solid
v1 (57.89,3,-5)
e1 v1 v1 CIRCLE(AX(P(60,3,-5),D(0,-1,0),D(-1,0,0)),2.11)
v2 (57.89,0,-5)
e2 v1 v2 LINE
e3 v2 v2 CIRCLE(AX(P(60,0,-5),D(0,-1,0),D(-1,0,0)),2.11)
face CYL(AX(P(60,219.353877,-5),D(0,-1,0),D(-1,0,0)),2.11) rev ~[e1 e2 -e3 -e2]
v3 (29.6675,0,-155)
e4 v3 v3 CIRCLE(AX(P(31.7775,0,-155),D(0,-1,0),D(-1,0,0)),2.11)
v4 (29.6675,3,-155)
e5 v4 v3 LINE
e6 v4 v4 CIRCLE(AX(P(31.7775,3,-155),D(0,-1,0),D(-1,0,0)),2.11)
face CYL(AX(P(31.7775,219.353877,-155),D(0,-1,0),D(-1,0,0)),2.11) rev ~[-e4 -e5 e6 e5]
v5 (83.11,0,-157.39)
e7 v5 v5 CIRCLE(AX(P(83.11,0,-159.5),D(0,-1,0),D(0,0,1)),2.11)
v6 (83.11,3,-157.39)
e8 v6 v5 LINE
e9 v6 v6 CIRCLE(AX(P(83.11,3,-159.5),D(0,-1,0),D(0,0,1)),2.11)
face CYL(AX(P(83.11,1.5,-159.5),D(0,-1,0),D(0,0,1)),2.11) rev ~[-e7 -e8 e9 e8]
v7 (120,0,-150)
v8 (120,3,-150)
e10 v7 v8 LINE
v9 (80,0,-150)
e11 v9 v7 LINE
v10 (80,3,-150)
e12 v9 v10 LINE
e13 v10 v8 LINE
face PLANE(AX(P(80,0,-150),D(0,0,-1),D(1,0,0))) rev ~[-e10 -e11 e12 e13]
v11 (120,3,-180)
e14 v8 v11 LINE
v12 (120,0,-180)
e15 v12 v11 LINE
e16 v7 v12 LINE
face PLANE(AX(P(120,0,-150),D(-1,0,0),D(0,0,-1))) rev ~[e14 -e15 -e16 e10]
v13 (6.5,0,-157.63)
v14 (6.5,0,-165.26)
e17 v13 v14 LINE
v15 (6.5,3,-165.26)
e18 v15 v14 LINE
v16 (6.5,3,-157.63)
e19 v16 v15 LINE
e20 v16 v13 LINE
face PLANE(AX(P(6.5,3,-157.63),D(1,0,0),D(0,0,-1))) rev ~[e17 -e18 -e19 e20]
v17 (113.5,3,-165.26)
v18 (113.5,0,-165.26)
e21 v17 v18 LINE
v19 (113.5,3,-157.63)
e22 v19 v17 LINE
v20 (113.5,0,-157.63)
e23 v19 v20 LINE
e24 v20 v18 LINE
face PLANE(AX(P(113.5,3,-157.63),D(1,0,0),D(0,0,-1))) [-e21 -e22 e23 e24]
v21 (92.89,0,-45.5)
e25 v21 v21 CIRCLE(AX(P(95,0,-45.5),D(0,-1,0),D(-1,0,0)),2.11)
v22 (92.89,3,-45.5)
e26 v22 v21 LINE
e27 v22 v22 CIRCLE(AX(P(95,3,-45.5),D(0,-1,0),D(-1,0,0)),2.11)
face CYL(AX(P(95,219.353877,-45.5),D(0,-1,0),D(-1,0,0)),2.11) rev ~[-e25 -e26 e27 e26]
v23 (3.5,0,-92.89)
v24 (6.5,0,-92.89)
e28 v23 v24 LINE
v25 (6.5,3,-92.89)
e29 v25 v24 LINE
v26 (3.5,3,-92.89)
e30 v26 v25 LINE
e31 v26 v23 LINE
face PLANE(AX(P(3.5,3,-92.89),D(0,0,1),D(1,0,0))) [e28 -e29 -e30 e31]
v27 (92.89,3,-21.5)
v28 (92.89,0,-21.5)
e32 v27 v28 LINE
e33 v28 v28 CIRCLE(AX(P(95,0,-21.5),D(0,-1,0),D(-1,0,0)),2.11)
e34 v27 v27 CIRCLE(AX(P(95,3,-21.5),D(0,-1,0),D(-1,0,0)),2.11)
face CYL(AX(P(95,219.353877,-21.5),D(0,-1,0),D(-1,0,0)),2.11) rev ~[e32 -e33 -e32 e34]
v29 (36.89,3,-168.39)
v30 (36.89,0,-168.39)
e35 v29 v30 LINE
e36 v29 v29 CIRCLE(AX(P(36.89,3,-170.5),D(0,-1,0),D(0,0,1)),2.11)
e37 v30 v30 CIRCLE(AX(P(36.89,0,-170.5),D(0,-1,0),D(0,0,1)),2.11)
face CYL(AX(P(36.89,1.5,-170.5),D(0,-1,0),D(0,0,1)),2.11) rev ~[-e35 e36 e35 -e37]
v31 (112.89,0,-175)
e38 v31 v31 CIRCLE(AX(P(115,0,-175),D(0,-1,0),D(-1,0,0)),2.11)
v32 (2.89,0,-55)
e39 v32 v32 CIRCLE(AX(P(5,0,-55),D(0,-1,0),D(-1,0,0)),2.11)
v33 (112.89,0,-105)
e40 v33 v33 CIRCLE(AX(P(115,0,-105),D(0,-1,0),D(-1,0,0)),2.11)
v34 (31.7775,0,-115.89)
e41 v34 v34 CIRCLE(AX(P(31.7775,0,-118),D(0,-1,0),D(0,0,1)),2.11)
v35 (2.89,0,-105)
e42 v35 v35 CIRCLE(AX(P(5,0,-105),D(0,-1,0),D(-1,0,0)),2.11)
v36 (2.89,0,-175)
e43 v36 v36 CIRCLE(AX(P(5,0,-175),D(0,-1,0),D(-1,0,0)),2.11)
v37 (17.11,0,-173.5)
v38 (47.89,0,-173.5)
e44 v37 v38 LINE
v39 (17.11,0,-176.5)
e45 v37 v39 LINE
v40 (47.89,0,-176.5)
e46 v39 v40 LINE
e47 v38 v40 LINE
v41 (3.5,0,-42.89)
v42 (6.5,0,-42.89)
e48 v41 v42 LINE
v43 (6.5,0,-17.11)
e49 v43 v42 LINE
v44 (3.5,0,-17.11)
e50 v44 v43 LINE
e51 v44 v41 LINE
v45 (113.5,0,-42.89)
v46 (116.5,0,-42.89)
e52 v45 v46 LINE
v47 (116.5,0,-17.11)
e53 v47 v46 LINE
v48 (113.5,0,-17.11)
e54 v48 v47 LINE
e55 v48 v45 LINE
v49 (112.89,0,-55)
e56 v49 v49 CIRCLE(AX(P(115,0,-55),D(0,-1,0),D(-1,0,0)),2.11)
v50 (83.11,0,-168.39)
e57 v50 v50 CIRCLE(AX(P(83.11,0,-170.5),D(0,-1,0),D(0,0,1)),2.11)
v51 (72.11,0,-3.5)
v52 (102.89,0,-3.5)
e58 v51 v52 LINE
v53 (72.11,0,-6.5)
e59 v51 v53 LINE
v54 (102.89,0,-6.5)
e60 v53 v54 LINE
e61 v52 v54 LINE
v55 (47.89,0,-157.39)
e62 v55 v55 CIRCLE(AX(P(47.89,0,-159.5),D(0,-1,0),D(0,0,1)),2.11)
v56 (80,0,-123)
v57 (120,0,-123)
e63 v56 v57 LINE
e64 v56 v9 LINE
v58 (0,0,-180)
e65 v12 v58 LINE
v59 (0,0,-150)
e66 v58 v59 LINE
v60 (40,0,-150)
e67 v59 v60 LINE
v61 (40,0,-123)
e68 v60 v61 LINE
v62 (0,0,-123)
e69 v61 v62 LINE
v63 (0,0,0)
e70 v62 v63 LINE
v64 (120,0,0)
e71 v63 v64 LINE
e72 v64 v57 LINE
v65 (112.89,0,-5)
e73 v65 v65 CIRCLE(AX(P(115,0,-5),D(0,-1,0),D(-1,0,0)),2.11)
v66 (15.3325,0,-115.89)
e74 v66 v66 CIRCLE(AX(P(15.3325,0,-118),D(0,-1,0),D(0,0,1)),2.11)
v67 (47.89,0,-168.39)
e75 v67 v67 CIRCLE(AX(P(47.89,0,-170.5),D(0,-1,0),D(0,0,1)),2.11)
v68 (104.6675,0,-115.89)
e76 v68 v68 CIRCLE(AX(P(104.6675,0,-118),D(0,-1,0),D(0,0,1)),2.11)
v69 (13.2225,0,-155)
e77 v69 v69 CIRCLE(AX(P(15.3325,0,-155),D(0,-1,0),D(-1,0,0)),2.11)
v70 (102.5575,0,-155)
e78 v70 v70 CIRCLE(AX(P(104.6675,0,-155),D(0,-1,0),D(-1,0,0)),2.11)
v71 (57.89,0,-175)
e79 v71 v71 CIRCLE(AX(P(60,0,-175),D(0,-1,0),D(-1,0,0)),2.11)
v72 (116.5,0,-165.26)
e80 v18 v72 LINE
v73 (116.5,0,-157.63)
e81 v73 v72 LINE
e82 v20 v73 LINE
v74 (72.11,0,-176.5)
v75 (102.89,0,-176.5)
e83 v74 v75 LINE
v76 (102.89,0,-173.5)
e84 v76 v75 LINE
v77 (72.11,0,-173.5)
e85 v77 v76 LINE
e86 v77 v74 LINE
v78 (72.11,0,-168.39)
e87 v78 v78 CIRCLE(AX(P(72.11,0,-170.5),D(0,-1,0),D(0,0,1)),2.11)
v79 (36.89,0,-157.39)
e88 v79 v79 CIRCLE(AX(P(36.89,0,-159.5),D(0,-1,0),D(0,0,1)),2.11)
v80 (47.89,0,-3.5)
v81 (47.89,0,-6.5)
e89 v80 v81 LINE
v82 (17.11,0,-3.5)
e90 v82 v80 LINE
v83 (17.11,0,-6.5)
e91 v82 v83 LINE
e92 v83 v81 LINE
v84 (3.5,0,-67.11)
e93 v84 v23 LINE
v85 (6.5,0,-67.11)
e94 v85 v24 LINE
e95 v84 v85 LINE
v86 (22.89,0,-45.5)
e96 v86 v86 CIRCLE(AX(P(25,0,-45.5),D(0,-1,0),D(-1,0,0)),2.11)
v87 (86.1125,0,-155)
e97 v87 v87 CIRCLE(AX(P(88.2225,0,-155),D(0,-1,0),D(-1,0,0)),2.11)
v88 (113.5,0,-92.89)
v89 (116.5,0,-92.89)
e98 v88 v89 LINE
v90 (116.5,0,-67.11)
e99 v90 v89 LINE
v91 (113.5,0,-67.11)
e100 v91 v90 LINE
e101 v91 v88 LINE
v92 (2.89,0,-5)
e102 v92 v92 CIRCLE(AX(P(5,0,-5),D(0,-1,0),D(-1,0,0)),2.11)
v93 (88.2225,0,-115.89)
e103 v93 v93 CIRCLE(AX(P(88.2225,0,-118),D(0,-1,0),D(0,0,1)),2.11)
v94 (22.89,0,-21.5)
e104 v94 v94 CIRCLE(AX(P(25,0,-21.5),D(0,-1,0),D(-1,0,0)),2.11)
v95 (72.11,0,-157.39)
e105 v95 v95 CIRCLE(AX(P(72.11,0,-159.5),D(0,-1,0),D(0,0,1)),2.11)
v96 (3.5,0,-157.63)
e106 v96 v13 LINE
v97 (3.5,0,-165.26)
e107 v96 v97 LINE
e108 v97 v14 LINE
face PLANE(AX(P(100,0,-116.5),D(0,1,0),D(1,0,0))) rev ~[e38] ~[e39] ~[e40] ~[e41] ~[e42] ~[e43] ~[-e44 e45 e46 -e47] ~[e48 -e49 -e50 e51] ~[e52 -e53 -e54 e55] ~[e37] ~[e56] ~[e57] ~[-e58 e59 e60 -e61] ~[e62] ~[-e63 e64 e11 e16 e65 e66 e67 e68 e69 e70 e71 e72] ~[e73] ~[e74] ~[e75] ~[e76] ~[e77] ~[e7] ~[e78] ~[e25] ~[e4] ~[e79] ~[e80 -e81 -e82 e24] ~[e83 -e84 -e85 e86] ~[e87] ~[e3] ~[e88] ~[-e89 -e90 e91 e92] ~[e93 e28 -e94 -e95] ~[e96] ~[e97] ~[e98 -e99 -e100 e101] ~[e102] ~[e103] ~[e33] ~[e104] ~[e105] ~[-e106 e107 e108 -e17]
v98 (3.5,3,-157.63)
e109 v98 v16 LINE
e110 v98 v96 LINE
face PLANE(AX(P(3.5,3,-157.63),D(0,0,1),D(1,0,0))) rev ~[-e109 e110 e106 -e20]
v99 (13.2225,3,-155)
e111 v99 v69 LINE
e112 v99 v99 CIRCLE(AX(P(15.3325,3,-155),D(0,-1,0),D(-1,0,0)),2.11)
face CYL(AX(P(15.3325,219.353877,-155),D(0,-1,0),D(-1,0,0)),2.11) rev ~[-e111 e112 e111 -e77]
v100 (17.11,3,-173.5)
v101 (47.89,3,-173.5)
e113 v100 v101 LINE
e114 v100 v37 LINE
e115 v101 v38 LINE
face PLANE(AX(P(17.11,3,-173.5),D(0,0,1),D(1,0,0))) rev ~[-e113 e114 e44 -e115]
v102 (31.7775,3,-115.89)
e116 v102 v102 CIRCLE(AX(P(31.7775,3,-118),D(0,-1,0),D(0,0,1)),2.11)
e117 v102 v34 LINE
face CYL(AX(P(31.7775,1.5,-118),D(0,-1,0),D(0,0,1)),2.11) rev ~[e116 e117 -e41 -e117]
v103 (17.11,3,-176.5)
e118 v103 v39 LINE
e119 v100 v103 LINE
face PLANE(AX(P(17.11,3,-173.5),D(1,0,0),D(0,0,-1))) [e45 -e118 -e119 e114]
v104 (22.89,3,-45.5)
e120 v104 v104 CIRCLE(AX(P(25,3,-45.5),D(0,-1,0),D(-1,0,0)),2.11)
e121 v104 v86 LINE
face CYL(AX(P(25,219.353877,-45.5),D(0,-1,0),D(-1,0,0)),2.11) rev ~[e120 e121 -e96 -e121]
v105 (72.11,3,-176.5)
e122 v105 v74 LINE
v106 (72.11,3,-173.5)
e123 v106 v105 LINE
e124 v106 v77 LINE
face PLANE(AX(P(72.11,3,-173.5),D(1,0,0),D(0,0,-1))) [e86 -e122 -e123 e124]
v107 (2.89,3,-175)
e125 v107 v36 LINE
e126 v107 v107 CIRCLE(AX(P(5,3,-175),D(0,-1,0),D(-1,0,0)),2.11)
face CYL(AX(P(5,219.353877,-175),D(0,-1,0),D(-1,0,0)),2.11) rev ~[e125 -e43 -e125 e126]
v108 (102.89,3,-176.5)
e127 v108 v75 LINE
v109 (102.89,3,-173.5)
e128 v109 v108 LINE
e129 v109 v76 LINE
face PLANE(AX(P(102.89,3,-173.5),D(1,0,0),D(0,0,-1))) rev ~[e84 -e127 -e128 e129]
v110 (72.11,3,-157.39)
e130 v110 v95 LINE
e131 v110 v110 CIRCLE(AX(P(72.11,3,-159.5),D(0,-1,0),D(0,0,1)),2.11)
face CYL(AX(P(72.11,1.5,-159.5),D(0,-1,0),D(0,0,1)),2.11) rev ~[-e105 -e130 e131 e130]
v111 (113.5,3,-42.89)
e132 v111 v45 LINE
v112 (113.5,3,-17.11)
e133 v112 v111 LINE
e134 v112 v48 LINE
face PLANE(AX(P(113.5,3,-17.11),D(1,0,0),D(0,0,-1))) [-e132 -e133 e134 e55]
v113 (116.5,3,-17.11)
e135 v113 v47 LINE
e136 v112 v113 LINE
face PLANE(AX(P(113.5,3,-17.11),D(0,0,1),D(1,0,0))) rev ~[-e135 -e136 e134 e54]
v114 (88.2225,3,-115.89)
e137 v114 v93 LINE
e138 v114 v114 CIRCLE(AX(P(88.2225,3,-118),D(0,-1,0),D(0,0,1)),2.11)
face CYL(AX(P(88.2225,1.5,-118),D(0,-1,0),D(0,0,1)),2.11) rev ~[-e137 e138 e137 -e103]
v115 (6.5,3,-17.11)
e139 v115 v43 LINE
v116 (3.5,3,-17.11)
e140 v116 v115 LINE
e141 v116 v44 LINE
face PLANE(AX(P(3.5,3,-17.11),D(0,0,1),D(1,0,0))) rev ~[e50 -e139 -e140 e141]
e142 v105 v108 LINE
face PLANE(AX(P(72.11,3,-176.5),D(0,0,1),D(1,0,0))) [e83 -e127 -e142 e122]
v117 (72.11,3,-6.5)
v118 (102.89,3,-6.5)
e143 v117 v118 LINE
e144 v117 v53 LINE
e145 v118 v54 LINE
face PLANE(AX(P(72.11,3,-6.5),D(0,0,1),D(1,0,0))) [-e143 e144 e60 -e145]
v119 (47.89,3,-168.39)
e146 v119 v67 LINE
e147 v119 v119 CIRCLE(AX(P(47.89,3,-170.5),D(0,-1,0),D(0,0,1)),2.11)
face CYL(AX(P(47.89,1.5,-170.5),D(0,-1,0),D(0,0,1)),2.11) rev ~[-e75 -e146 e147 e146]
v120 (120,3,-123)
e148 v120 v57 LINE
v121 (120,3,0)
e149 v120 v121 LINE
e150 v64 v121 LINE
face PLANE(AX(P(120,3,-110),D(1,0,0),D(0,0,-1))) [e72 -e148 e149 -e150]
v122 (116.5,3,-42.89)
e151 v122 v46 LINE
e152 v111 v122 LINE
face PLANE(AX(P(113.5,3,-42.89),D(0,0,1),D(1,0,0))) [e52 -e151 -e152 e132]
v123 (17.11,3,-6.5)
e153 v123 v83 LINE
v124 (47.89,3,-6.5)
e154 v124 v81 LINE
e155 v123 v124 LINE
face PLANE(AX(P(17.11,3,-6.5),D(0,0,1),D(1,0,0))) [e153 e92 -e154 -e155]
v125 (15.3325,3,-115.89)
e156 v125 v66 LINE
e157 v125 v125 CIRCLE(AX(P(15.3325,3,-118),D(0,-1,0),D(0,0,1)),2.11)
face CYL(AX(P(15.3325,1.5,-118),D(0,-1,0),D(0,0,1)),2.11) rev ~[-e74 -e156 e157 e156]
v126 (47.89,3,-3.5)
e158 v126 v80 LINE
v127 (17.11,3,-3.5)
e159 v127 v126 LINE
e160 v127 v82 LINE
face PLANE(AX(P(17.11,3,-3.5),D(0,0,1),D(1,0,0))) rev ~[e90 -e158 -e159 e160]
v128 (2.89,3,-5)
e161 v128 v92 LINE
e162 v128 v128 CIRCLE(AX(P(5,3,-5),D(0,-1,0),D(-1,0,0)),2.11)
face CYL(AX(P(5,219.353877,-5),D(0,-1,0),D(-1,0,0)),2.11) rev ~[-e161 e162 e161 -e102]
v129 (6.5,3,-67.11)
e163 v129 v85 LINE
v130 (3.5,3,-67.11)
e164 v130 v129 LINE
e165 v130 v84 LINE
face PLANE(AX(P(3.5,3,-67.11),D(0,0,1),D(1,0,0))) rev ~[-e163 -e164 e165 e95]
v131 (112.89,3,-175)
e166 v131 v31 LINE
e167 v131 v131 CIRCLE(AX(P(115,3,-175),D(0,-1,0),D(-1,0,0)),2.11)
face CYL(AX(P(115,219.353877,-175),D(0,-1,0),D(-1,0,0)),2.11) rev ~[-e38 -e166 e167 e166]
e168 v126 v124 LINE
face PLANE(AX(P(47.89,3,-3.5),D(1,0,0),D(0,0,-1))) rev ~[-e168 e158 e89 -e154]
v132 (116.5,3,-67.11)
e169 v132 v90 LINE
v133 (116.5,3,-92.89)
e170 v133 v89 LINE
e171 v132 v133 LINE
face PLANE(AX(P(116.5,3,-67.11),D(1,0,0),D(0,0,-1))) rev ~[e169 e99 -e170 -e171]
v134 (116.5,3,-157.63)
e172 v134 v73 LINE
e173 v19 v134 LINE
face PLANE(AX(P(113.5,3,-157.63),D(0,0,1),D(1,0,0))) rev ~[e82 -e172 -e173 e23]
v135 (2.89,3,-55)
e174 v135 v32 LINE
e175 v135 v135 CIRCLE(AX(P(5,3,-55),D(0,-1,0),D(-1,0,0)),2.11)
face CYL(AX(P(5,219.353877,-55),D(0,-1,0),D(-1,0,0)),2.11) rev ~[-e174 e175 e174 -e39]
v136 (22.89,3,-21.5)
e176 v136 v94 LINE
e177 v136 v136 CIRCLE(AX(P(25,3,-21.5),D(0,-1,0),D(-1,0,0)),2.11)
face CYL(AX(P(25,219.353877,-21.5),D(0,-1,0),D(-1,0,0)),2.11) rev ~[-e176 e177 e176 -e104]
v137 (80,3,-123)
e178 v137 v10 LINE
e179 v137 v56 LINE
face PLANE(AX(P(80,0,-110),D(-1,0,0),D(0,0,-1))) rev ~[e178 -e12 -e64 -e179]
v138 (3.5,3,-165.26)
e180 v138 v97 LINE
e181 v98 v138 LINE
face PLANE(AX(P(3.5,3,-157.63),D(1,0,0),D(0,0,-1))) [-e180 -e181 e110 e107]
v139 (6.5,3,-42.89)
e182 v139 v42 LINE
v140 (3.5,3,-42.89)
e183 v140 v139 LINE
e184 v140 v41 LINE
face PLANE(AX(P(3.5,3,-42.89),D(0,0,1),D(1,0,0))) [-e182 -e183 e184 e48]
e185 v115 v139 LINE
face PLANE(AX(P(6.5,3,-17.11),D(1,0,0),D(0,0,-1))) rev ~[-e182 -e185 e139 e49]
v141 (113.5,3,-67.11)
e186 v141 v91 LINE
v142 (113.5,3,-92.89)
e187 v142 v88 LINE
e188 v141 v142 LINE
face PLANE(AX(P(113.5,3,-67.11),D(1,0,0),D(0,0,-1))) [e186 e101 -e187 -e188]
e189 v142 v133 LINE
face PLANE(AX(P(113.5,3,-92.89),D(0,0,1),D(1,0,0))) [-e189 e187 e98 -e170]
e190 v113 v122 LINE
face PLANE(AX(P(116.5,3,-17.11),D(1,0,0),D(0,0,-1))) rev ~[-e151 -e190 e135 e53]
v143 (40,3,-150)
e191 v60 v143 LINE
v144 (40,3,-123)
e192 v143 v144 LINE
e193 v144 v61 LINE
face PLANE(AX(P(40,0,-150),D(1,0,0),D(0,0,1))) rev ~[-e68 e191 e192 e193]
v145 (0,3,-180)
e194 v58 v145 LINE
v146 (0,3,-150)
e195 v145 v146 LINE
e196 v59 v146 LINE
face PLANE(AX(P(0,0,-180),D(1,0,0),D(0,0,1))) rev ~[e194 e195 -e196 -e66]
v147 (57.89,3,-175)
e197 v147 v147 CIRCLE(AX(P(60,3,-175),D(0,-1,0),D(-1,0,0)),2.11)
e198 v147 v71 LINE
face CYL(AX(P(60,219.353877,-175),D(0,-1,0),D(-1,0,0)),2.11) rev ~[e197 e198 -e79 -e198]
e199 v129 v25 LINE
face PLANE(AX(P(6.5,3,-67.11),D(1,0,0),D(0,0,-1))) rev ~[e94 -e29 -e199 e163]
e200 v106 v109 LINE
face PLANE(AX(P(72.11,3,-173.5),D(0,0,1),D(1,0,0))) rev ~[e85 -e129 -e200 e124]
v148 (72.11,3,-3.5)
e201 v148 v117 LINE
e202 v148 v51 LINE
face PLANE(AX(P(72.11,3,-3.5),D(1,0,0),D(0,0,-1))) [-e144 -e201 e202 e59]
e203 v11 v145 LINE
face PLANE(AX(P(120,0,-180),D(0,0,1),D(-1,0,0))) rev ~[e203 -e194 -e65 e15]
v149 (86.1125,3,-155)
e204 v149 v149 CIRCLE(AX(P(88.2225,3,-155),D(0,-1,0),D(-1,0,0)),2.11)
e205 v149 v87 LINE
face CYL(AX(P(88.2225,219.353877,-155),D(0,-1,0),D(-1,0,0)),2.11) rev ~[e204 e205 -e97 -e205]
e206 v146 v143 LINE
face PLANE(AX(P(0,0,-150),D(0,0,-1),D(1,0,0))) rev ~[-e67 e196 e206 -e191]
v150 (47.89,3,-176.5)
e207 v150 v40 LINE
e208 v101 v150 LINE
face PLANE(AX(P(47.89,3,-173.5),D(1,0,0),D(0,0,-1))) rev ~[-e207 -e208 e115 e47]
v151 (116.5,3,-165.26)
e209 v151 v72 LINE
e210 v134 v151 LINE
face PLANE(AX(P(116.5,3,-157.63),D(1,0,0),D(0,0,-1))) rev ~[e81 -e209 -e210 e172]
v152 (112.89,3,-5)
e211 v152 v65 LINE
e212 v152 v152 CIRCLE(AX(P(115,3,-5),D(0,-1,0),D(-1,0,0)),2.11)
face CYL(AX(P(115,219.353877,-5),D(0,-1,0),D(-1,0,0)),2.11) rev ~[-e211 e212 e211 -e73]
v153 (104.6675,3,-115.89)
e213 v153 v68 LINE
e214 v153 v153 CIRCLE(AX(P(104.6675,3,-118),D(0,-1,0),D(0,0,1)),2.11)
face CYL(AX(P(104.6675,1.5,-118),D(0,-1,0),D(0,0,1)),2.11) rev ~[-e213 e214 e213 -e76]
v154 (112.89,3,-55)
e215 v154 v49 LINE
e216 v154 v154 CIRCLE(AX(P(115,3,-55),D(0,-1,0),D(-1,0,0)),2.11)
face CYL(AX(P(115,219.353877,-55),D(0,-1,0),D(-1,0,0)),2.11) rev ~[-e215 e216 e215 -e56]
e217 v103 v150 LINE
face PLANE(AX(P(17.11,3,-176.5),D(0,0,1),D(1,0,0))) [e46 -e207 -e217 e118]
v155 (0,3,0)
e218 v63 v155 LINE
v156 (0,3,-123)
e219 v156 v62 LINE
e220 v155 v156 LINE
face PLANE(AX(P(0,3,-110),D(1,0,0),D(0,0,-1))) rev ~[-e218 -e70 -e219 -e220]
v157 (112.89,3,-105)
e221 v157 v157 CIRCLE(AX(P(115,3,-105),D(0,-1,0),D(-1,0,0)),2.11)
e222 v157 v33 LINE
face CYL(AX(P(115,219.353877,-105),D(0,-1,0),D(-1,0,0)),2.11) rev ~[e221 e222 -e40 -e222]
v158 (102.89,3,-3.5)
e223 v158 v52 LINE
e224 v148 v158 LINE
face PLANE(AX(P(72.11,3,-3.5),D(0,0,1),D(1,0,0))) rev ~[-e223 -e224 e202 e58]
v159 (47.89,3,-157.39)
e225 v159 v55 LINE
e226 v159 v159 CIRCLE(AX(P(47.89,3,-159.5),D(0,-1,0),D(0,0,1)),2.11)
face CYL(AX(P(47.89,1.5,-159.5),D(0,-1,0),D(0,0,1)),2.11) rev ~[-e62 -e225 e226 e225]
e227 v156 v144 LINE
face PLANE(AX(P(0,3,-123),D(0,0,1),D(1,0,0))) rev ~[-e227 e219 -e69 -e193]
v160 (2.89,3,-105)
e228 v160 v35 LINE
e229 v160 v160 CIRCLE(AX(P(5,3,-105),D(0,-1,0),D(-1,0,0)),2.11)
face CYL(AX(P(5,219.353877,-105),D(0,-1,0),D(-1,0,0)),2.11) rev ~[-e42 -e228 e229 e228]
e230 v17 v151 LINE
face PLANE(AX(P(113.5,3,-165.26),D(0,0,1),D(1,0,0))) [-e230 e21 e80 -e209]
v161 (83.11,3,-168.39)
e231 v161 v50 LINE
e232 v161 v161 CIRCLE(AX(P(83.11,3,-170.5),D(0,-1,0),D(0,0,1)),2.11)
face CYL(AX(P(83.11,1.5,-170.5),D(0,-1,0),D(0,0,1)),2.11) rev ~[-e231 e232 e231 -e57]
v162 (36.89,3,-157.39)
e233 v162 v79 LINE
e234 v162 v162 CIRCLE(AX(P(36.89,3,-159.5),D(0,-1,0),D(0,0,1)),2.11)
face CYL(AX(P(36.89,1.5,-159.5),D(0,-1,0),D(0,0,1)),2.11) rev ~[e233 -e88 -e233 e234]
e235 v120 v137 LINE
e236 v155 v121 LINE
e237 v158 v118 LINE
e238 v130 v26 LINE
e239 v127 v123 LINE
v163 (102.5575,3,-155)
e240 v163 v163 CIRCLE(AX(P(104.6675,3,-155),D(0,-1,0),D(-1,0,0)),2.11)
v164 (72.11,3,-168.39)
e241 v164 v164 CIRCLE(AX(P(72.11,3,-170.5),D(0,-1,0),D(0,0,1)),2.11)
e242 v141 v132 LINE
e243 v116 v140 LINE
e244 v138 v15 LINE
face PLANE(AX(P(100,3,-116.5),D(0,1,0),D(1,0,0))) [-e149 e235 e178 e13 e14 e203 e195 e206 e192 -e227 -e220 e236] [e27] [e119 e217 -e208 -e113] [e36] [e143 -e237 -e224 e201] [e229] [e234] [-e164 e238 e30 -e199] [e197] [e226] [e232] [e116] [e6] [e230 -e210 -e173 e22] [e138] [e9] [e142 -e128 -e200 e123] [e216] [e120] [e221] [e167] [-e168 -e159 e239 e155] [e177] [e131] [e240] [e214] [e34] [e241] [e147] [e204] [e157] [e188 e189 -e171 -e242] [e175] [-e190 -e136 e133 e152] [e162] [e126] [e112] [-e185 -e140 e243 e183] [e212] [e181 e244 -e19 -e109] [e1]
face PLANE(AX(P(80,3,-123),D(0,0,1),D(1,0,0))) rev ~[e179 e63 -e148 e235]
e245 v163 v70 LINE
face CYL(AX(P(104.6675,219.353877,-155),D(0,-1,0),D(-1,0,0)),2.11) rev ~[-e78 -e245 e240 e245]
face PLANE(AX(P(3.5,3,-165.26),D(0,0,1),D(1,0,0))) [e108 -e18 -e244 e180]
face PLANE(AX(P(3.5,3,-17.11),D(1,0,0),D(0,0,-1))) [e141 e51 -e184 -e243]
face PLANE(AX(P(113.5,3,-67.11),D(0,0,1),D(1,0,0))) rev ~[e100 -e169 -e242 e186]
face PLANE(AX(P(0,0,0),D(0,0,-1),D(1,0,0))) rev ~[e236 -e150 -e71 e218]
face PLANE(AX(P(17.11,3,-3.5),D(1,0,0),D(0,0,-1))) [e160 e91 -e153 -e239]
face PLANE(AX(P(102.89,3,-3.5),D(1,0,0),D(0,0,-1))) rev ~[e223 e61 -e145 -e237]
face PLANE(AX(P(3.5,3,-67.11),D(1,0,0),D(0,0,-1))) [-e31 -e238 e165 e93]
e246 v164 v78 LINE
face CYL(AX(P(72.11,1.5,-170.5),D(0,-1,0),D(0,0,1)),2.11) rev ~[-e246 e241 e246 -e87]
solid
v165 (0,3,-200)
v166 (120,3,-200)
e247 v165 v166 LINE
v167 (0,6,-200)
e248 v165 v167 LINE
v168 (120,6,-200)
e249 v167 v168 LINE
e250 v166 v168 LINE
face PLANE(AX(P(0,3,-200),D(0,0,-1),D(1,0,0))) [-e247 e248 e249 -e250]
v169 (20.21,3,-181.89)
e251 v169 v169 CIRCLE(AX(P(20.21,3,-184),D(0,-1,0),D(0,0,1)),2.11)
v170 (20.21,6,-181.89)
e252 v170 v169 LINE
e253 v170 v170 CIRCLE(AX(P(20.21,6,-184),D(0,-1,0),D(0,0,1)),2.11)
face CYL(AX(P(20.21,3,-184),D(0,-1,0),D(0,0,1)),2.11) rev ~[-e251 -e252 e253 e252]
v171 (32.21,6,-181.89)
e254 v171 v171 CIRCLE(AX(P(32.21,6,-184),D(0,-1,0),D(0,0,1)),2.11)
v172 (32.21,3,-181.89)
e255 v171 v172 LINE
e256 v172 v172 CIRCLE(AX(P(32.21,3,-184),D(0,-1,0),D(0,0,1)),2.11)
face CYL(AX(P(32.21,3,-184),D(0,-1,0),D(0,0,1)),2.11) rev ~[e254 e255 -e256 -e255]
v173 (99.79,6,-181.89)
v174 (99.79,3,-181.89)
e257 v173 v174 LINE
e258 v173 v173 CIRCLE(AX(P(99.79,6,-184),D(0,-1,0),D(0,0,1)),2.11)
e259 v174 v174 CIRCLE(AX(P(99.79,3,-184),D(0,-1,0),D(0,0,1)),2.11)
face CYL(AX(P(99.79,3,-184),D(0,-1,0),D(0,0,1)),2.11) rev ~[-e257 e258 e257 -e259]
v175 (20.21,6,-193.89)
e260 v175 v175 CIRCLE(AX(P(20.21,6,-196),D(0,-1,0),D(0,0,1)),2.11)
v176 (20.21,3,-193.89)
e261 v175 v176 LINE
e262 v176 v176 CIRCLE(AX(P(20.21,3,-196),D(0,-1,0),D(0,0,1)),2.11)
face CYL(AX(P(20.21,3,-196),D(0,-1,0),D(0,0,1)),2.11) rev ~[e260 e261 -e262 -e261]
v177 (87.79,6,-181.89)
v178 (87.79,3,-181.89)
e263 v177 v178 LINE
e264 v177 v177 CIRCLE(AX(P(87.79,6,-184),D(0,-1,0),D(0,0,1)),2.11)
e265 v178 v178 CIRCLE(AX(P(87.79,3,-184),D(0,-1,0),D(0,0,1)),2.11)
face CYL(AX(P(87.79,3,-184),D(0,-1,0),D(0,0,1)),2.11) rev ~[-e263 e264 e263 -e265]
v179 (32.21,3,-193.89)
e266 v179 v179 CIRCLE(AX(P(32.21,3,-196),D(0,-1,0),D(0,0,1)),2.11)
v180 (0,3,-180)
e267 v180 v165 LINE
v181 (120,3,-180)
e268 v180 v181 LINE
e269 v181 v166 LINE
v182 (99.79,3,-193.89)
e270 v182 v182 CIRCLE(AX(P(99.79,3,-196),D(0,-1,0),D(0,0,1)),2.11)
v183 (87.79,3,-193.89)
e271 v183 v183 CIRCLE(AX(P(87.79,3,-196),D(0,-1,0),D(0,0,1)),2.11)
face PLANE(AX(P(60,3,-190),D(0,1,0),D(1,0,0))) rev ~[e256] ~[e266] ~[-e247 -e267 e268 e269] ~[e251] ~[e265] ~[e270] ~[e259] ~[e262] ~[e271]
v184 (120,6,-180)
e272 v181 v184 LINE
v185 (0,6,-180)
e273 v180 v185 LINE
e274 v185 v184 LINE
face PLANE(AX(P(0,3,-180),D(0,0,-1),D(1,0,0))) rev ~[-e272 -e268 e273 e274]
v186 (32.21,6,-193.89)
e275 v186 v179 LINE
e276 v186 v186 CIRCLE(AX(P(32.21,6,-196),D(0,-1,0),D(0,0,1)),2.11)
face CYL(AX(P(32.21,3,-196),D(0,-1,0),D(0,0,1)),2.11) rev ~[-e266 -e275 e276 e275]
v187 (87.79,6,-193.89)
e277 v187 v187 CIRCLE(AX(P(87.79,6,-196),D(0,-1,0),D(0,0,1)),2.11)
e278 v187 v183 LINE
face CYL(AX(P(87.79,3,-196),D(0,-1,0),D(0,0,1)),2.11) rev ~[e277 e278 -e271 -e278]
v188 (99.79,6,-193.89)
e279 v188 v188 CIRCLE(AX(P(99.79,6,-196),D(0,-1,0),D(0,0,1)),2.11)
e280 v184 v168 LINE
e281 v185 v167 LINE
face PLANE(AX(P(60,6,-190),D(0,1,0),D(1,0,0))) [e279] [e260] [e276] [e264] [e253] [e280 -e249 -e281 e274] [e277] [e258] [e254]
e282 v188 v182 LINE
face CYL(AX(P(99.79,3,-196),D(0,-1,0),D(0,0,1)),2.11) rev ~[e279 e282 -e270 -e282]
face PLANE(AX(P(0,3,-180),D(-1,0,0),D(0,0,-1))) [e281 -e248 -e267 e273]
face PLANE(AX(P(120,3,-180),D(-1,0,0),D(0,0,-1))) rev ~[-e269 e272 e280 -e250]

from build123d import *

# Parameters (mm, degrees)
BOSS_EXTRUDE1_DEPTH                     = 3
HOLE_FOR_M3_300_SC_NUTS_SP_1_D          = 4.22
HOLE_FOR_M3_300_SC_NUTS_SP_2_D          = 4.22
HOLE_FOR_M3_300_SC_NUTS_SP_3_D          = 4.22
HOLE_FOR_M3_300_SC_NUTS_SP_4_D          = 4.22
HOLE_FOR_M3_300_SC_NUTS_SP_5_D          = 4.22
SKETCH15_W                              = 30.78
SKETCH15_H                              = 3
SKETCH15_W_2                            = 3
SKETCH15_H_2                            = 7.63
SKETCH15_H_3                            = 25.78
CUT_EXTRUDE1_DEPTH                      = 4
SKETCH16_W                              = 120
SKETCH16_H                              = 20
BOSS_EXTRUDE3_DEPTH                     = 3
SKETCH19_W                              = 2.11
SKETCH19_H                              = 6
HOLE_FOR_M3_300_SC_NUTS_SP_6_AT_2_COUNT = 2
HOLE_FOR_M3_300_SC_NUTS_SP_6_AT_2_PITCH = 12
HOLE_FOR_M3_300_SC_NUTS_SP_6_AT_3_COUNT = 2
HOLE_FOR_M3_300_SC_NUTS_SP_6_AT_3_PITCH = 12
HOLE_FOR_M3_300_SC_NUTS_SP_6_AT_4_COUNT = 2
HOLE_FOR_M3_300_SC_NUTS_SP_6_AT_4_PITCH = 16.970562748
HOLE_FOR_M3_300_SC_NUTS_SP_6_AT_5_COUNT = 2
HOLE_FOR_M3_300_SC_NUTS_SP_6_AT_5_PITCH = 79.58
HOLE_FOR_M3_300_SC_NUTS_SP_6_AT_6_COUNT = 2
HOLE_FOR_M3_300_SC_NUTS_SP_6_AT_6_PITCH = 67.58
HOLE_FOR_M3_300_SC_NUTS_SP_6_AT_7_COUNT = 2
HOLE_FOR_M3_300_SC_NUTS_SP_6_AT_7_PITCH = 68.637135721
HOLE_FOR_M3_300_SC_NUTS_SP_6_AT_8_COUNT = 2
HOLE_FOR_M3_300_SC_NUTS_SP_6_AT_8_PITCH = 80.479664512
SKETCH30_W                              = 2.11
SKETCH30_H                              = 3
HOLE_FOR_M3_300_SC_NUTS_SP_8_AT_2_COUNT = 2
HOLE_FOR_M3_300_SC_NUTS_SP_8_AT_2_PITCH = 11
HOLE_FOR_M3_300_SC_NUTS_SP_8_AT_3_COUNT = 2
HOLE_FOR_M3_300_SC_NUTS_SP_8_AT_3_PITCH = 15.556349186
HOLE_FOR_M3_300_SC_NUTS_SP_8_AT_4_COUNT = 2
HOLE_FOR_M3_300_SC_NUTS_SP_8_AT_4_PITCH = 11
HOLE_FOR_M3_300_SC_NUTS_SP_8_AT_5_COUNT = 2
HOLE_FOR_M3_300_SC_NUTS_SP_8_AT_5_PITCH = 35.22
HOLE_FOR_M3_300_SC_NUTS_SP_8_AT_6_COUNT = 2
HOLE_FOR_M3_300_SC_NUTS_SP_8_AT_6_PITCH = 46.22
HOLE_FOR_M3_300_SC_NUTS_SP_8_AT_7_COUNT = 2
HOLE_FOR_M3_300_SC_NUTS_SP_8_AT_7_PITCH = 47.510929269
HOLE_FOR_M3_300_SC_NUTS_SP_8_AT_8_COUNT = 2
HOLE_FOR_M3_300_SC_NUTS_SP_8_AT_8_PITCH = 36.897810233
SKETCH31_W                              = 40
SKETCH31_H                              = 13
BOSS_EXTRUDE4_DEPTH                     = 3
BOSS_EXTRUDE4_2_DEPTH                   = 3
SKETCH34_W                              = 2.11
SKETCH34_H                              = 3
HOLE_FOR_M3_300_SC_NUTS_SP_9_AT_2_COUNT = 2
HOLE_FOR_M3_300_SC_NUTS_SP_9_AT_2_PITCH = 16.445
HOLE_FOR_M3_300_SC_NUTS_SP_9_AT_3_COUNT = 2
HOLE_FOR_M3_300_SC_NUTS_SP_9_AT_3_PITCH = 72.89
HOLE_FOR_M3_300_SC_NUTS_SP_9_AT_4_COUNT = 2
HOLE_FOR_M3_300_SC_NUTS_SP_9_AT_4_PITCH = 89.335
SKETCH35_W                              = 4.082372286
SKETCH35_H                              = 14.550345667
SKETCH35_W_2                            = 4.333493725
BOSS_EXTRUDE5_DEPTH                     = 3


with BuildPart() as part:
    # Sketch1 → Boss-Extrude1 (new body)
    with BuildSketch(Plane(origin=(0, 0, 0), x_dir=(1, 0, 0), z_dir=(0, 1, 0))):
        Polygon((0, 0), (120, 0), (120, 110), (80, 110), (80, 150), (120, 150), (120, 180), (0, 180), (0, 150), (40, 150), (40, 110), (0, 110), align=None)
    extrude(amount=BOSS_EXTRUDE1_DEPTH)

    # Hole for M3 300® SC Nuts (SP)1 (through all)
    with Locations(Plane(origin=(0, 3, 0), x_dir=(1, 0, 0), z_dir=(0, 1, 0))):
        with Locations((5, 175), (60, 175), (115, 175), (115, 5), (60, 5), (5, 5)):
            Hole(HOLE_FOR_M3_300_SC_NUTS_SP_1_D / 2)

    # Hole for M3 300® SC Nuts (SP)2 (through all)
    with Locations(Plane(origin=(0, 3, 0), x_dir=(1, 0, 0), z_dir=(0, 1, 0))):
        with Locations((5, 105), (115, 105)):
            Hole(HOLE_FOR_M3_300_SC_NUTS_SP_2_D / 2)

    # Hole for M3 300® SC Nuts (SP)3 (through all)
    with Locations(Plane(origin=(0, 3, 0), x_dir=(1, 0, 0), z_dir=(0, 1, 0))):
        with Locations((115, 55), (5, 55)):
            Hole(HOLE_FOR_M3_300_SC_NUTS_SP_3_D / 2)

    # Hole for M3 300® SC Nuts (SP)4 (through all)
    with Locations(Plane(origin=(0, 3, 0), x_dir=(1, 0, 0), z_dir=(0, 1, 0))):
        with Locations((88.2225, 155), (104.6675, 155), (15.3325, 155), (31.7775, 155)):
            Hole(HOLE_FOR_M3_300_SC_NUTS_SP_4_D / 2)

    # Hole for M3 300® SC Nuts (SP)5 (through all)
    with Locations(Plane(origin=(0, 3, 0), x_dir=(1, 0, 0), z_dir=(0, 1, 0))):
        with Locations((25, 45.5), (95, 45.5), (95, 21.5), (25, 21.5)):
            Hole(HOLE_FOR_M3_300_SC_NUTS_SP_5_D / 2)

    # Sketch15 → Cut-Extrude1 (cut, through all)
    with BuildSketch(Plane(origin=(0, 3, 0), x_dir=(1, 0, 0), z_dir=(0, 1, 0))):
        with Locations((87.5, 175)):
            Rectangle(SKETCH15_W, SKETCH15_H)
        with Locations((32.5, 175)):
            Rectangle(SKETCH15_W, SKETCH15_H)
        with Locations((5, 161.445)):
            Rectangle(SKETCH15_W_2, SKETCH15_H_2)
        with Locations((115, 161.445)):
            Rectangle(SKETCH15_W_2, SKETCH15_H_2)
        with Locations((5, 80)):
            Rectangle(SKETCH15_W_2, SKETCH15_H_3)
        with Locations((115, 80)):
            Rectangle(SKETCH15_W_2, SKETCH15_H_3)
        with Locations((115, 30)):
            Rectangle(SKETCH15_W_2, SKETCH15_H_3)
        with Locations((5, 30)):
            Rectangle(SKETCH15_W_2, SKETCH15_H_3)
        with Locations((32.5, 5)):
            Rectangle(SKETCH15_W, SKETCH15_H)
        with Locations((87.5, 5)):
            Rectangle(SKETCH15_W, SKETCH15_H)
    extrude(amount=-CUT_EXTRUDE1_DEPTH, mode=Mode.SUBTRACT)

    # Sketch30 → Hole for M3 300® SC Nuts (SP)8 (revolve, cut)
    with BuildSketch(Plane(origin=(36.89, 3, -159.5), x_dir=(0, 0, 1), z_dir=(1, 0, 0))):
        with Locations((1.055, 1.5)):
            Rectangle(SKETCH30_W, SKETCH30_H)
    hole_for_m3_300_sc_nuts_sp_8 = revolve(axis=Axis((36.89, 9.35, -159.5), (0, -1, 0)), mode=Mode.SUBTRACT)

    # Hole for M3 300® SC Nuts (SP)8 at 2: Hole for M3 300® SC Nuts (SP)8 ×2
    with Locations(*[(0, 0, -i * HOLE_FOR_M3_300_SC_NUTS_SP_8_AT_2_PITCH) for i in range(1, HOLE_FOR_M3_300_SC_NUTS_SP_8_AT_2_COUNT)]):
        add(hole_for_m3_300_sc_nuts_sp_8, mode=Mode.SUBTRACT)

    # Hole for M3 300® SC Nuts (SP)8 at 3: Hole for M3 300® SC Nuts (SP)8 ×2
    with Locations(*[Vector(0.707106781, 0, -0.707106781) * (i * HOLE_FOR_M3_300_SC_NUTS_SP_8_AT_3_PITCH) for i in range(1, HOLE_FOR_M3_300_SC_NUTS_SP_8_AT_3_COUNT)]):
        add(hole_for_m3_300_sc_nuts_sp_8, mode=Mode.SUBTRACT)

    # Hole for M3 300® SC Nuts (SP)8 at 4: Hole for M3 300® SC Nuts (SP)8 ×2
    with Locations(*[(i * HOLE_FOR_M3_300_SC_NUTS_SP_8_AT_4_PITCH, 0, 0) for i in range(1, HOLE_FOR_M3_300_SC_NUTS_SP_8_AT_4_COUNT)]):
        add(hole_for_m3_300_sc_nuts_sp_8, mode=Mode.SUBTRACT)

    # Hole for M3 300® SC Nuts (SP)8 at 5: Hole for M3 300® SC Nuts (SP)8 ×2
    with Locations(*[(i * HOLE_FOR_M3_300_SC_NUTS_SP_8_AT_5_PITCH, 0, 0) for i in range(1, HOLE_FOR_M3_300_SC_NUTS_SP_8_AT_5_COUNT)]):
        add(hole_for_m3_300_sc_nuts_sp_8, mode=Mode.SUBTRACT)

    # Hole for M3 300® SC Nuts (SP)8 at 6: Hole for M3 300® SC Nuts (SP)8 ×2
    with Locations(*[(i * HOLE_FOR_M3_300_SC_NUTS_SP_8_AT_6_PITCH, 0, 0) for i in range(1, HOLE_FOR_M3_300_SC_NUTS_SP_8_AT_6_COUNT)]):
        add(hole_for_m3_300_sc_nuts_sp_8, mode=Mode.SUBTRACT)

    # Hole for M3 300® SC Nuts (SP)8 at 7: Hole for M3 300® SC Nuts (SP)8 ×2
    with Locations(*[Vector(0.972828794, 0, -0.231525676) * (i * HOLE_FOR_M3_300_SC_NUTS_SP_8_AT_7_PITCH) for i in range(1, HOLE_FOR_M3_300_SC_NUTS_SP_8_AT_7_COUNT)]):
        add(hole_for_m3_300_sc_nuts_sp_8, mode=Mode.SUBTRACT)

    # Hole for M3 300® SC Nuts (SP)8 at 8: Hole for M3 300® SC Nuts (SP)8 ×2
    with Locations(*[Vector(0.95452819, 0, -0.298120672) * (i * HOLE_FOR_M3_300_SC_NUTS_SP_8_AT_8_PITCH) for i in range(1, HOLE_FOR_M3_300_SC_NUTS_SP_8_AT_8_COUNT)]):
        add(hole_for_m3_300_sc_nuts_sp_8, mode=Mode.SUBTRACT)



with BuildPart() as body_2:
    # Sketch16 → Boss-Extrude3 (new body)
    with BuildSketch(Plane(origin=(0, 3, 0), x_dir=(1, 0, 0), z_dir=(0, 1, 0))):
        with Locations((60, 190)):
            Rectangle(SKETCH16_W, SKETCH16_H)
    extrude(amount=BOSS_EXTRUDE3_DEPTH)

    # Sketch19 → Hole for M3 300® SC Nuts (SP)6 (revolve, cut)
    with BuildSketch(Plane(origin=(20.21, 6, -196), x_dir=(0, 0, 1), z_dir=(1, 0, 0))):
        with Locations((1.055, 3)):
            Rectangle(SKETCH19_W, SKETCH19_H)
    hole_for_m3_300_sc_nuts_sp_6 = revolve(axis=Axis((20.21, 12.35, -196), (0, -1, 0)), mode=Mode.SUBTRACT)

    # Hole for M3 300® SC Nuts (SP)6 at 2: Hole for M3 300® SC Nuts (SP)6 ×2
    with Locations(*[(i * HOLE_FOR_M3_300_SC_NUTS_SP_6_AT_2_PITCH, 0, 0) for i in range(1, HOLE_FOR_M3_300_SC_NUTS_SP_6_AT_2_COUNT)]):
        add(hole_for_m3_300_sc_nuts_sp_6, mode=Mode.SUBTRACT)

    # Hole for M3 300® SC Nuts (SP)6 at 3: Hole for M3 300® SC Nuts (SP)6 ×2
    with Locations(*[(0, 0, i * HOLE_FOR_M3_300_SC_NUTS_SP_6_AT_3_PITCH) for i in range(1, HOLE_FOR_M3_300_SC_NUTS_SP_6_AT_3_COUNT)]):
        add(hole_for_m3_300_sc_nuts_sp_6, mode=Mode.SUBTRACT)

    # Hole for M3 300® SC Nuts (SP)6 at 4: Hole for M3 300® SC Nuts (SP)6 ×2
    with Locations(*[Vector(0.707106781, 0, 0.707106781) * (i * HOLE_FOR_M3_300_SC_NUTS_SP_6_AT_4_PITCH) for i in range(1, HOLE_FOR_M3_300_SC_NUTS_SP_6_AT_4_COUNT)]):
        add(hole_for_m3_300_sc_nuts_sp_6, mode=Mode.SUBTRACT)

    # Hole for M3 300® SC Nuts (SP)6 at 5: Hole for M3 300® SC Nuts (SP)6 ×2
    with Locations(*[(i * HOLE_FOR_M3_300_SC_NUTS_SP_6_AT_5_PITCH, 0, 0) for i in range(1, HOLE_FOR_M3_300_SC_NUTS_SP_6_AT_5_COUNT)]):
        add(hole_for_m3_300_sc_nuts_sp_6, mode=Mode.SUBTRACT)

    # Hole for M3 300® SC Nuts (SP)6 at 6: Hole for M3 300® SC Nuts (SP)6 ×2
    with Locations(*[(i * HOLE_FOR_M3_300_SC_NUTS_SP_6_AT_6_PITCH, 0, 0) for i in range(1, HOLE_FOR_M3_300_SC_NUTS_SP_6_AT_6_COUNT)]):
        add(hole_for_m3_300_sc_nuts_sp_6, mode=Mode.SUBTRACT)

    # Hole for M3 300® SC Nuts (SP)6 at 7: Hole for M3 300® SC Nuts (SP)6 ×2
    with Locations(*[Vector(0.984598196, 0, 0.17483247) * (i * HOLE_FOR_M3_300_SC_NUTS_SP_6_AT_7_PITCH) for i in range(1, HOLE_FOR_M3_300_SC_NUTS_SP_6_AT_7_COUNT)]):
        add(hole_for_m3_300_sc_nuts_sp_6, mode=Mode.SUBTRACT)

    # Hole for M3 300® SC Nuts (SP)6 at 8: Hole for M3 300® SC Nuts (SP)6 ×2
    with Locations(*[Vector(0.988821219, 0, 0.149105989) * (i * HOLE_FOR_M3_300_SC_NUTS_SP_6_AT_8_PITCH) for i in range(1, HOLE_FOR_M3_300_SC_NUTS_SP_6_AT_8_COUNT)]):
        add(hole_for_m3_300_sc_nuts_sp_6, mode=Mode.SUBTRACT)


with BuildPart() as body_3:
    # Sketch31 → Boss-Extrude4 (new body)
    with BuildSketch(Plane(origin=(0, 3, 0), x_dir=(1, 0, 0), z_dir=(0, 1, 0))):
        with Locations((20, 116.5)):
            Rectangle(SKETCH31_W, SKETCH31_H)
    extrude(amount=-BOSS_EXTRUDE4_DEPTH)

    # Sketch34 → Hole for M3 300® SC Nuts (SP)9 (revolve, cut)
    with BuildSketch(Plane(origin=(15.3325, 3, -118), x_dir=(0, 0, 1), z_dir=(1, 0, 0))):
        with Locations((1.055, 1.5)):
            Rectangle(SKETCH34_W, SKETCH34_H)
    hole_for_m3_300_sc_nuts_sp_9 = revolve(axis=Axis((15.3325, 9.35, -118), (0, -1, 0)), mode=Mode.SUBTRACT)

    # Hole for M3 300® SC Nuts (SP)9 at 2: Hole for M3 300® SC Nuts (SP)9 ×2
    with Locations(*[(i * HOLE_FOR_M3_300_SC_NUTS_SP_9_AT_2_PITCH, 0, 0) for i in range(1, HOLE_FOR_M3_300_SC_NUTS_SP_9_AT_2_COUNT)]):
        add(hole_for_m3_300_sc_nuts_sp_9, mode=Mode.SUBTRACT)


with BuildPart() as body_4:
    # Sketch31 → Boss-Extrude4 2 (new body)
    with BuildSketch(Plane(origin=(0, 3, 0), x_dir=(1, 0, 0), z_dir=(0, 1, 0))):
        with Locations((100, 116.5)):
            Rectangle(SKETCH31_W, SKETCH31_H)
    extrude(amount=-BOSS_EXTRUDE4_2_DEPTH)

    # Hole for M3 300® SC Nuts (SP)9 at 3: Hole for M3 300® SC Nuts (SP)9 ×2
    with Locations(*[(i * HOLE_FOR_M3_300_SC_NUTS_SP_9_AT_3_PITCH, 0, 0) for i in range(1, HOLE_FOR_M3_300_SC_NUTS_SP_9_AT_3_COUNT)]):
        add(hole_for_m3_300_sc_nuts_sp_9, mode=Mode.SUBTRACT)

    # Hole for M3 300® SC Nuts (SP)9 at 4: Hole for M3 300® SC Nuts (SP)9 ×2
    with Locations(*[(i * HOLE_FOR_M3_300_SC_NUTS_SP_9_AT_4_PITCH, 0, 0) for i in range(1, HOLE_FOR_M3_300_SC_NUTS_SP_9_AT_4_COUNT)]):
        add(hole_for_m3_300_sc_nuts_sp_9, mode=Mode.SUBTRACT)


with BuildPart() as part_1:
    add(part.part)

    add(body_3.part)  # Boss-Extrude5 merges body 3

    add(body_4.part)  # Boss-Extrude5 merges body 4
    # Sketch35 → Boss-Extrude5 (add)
    with BuildSketch(Plane(origin=(0, 3, 0), x_dir=(1, 0, 0), z_dir=(0, 1, 0))):
        with Locations((39.270197702, 115.724827167)):
            Rectangle(SKETCH35_W, SKETCH35_H)
        with Locations((80.634950419, 115.724827167)):
            Rectangle(SKETCH35_W_2, SKETCH35_H)
    extrude(amount=-BOSS_EXTRUDE5_DEPTH)


solid = Compound([body_2.part, part_1.part])
